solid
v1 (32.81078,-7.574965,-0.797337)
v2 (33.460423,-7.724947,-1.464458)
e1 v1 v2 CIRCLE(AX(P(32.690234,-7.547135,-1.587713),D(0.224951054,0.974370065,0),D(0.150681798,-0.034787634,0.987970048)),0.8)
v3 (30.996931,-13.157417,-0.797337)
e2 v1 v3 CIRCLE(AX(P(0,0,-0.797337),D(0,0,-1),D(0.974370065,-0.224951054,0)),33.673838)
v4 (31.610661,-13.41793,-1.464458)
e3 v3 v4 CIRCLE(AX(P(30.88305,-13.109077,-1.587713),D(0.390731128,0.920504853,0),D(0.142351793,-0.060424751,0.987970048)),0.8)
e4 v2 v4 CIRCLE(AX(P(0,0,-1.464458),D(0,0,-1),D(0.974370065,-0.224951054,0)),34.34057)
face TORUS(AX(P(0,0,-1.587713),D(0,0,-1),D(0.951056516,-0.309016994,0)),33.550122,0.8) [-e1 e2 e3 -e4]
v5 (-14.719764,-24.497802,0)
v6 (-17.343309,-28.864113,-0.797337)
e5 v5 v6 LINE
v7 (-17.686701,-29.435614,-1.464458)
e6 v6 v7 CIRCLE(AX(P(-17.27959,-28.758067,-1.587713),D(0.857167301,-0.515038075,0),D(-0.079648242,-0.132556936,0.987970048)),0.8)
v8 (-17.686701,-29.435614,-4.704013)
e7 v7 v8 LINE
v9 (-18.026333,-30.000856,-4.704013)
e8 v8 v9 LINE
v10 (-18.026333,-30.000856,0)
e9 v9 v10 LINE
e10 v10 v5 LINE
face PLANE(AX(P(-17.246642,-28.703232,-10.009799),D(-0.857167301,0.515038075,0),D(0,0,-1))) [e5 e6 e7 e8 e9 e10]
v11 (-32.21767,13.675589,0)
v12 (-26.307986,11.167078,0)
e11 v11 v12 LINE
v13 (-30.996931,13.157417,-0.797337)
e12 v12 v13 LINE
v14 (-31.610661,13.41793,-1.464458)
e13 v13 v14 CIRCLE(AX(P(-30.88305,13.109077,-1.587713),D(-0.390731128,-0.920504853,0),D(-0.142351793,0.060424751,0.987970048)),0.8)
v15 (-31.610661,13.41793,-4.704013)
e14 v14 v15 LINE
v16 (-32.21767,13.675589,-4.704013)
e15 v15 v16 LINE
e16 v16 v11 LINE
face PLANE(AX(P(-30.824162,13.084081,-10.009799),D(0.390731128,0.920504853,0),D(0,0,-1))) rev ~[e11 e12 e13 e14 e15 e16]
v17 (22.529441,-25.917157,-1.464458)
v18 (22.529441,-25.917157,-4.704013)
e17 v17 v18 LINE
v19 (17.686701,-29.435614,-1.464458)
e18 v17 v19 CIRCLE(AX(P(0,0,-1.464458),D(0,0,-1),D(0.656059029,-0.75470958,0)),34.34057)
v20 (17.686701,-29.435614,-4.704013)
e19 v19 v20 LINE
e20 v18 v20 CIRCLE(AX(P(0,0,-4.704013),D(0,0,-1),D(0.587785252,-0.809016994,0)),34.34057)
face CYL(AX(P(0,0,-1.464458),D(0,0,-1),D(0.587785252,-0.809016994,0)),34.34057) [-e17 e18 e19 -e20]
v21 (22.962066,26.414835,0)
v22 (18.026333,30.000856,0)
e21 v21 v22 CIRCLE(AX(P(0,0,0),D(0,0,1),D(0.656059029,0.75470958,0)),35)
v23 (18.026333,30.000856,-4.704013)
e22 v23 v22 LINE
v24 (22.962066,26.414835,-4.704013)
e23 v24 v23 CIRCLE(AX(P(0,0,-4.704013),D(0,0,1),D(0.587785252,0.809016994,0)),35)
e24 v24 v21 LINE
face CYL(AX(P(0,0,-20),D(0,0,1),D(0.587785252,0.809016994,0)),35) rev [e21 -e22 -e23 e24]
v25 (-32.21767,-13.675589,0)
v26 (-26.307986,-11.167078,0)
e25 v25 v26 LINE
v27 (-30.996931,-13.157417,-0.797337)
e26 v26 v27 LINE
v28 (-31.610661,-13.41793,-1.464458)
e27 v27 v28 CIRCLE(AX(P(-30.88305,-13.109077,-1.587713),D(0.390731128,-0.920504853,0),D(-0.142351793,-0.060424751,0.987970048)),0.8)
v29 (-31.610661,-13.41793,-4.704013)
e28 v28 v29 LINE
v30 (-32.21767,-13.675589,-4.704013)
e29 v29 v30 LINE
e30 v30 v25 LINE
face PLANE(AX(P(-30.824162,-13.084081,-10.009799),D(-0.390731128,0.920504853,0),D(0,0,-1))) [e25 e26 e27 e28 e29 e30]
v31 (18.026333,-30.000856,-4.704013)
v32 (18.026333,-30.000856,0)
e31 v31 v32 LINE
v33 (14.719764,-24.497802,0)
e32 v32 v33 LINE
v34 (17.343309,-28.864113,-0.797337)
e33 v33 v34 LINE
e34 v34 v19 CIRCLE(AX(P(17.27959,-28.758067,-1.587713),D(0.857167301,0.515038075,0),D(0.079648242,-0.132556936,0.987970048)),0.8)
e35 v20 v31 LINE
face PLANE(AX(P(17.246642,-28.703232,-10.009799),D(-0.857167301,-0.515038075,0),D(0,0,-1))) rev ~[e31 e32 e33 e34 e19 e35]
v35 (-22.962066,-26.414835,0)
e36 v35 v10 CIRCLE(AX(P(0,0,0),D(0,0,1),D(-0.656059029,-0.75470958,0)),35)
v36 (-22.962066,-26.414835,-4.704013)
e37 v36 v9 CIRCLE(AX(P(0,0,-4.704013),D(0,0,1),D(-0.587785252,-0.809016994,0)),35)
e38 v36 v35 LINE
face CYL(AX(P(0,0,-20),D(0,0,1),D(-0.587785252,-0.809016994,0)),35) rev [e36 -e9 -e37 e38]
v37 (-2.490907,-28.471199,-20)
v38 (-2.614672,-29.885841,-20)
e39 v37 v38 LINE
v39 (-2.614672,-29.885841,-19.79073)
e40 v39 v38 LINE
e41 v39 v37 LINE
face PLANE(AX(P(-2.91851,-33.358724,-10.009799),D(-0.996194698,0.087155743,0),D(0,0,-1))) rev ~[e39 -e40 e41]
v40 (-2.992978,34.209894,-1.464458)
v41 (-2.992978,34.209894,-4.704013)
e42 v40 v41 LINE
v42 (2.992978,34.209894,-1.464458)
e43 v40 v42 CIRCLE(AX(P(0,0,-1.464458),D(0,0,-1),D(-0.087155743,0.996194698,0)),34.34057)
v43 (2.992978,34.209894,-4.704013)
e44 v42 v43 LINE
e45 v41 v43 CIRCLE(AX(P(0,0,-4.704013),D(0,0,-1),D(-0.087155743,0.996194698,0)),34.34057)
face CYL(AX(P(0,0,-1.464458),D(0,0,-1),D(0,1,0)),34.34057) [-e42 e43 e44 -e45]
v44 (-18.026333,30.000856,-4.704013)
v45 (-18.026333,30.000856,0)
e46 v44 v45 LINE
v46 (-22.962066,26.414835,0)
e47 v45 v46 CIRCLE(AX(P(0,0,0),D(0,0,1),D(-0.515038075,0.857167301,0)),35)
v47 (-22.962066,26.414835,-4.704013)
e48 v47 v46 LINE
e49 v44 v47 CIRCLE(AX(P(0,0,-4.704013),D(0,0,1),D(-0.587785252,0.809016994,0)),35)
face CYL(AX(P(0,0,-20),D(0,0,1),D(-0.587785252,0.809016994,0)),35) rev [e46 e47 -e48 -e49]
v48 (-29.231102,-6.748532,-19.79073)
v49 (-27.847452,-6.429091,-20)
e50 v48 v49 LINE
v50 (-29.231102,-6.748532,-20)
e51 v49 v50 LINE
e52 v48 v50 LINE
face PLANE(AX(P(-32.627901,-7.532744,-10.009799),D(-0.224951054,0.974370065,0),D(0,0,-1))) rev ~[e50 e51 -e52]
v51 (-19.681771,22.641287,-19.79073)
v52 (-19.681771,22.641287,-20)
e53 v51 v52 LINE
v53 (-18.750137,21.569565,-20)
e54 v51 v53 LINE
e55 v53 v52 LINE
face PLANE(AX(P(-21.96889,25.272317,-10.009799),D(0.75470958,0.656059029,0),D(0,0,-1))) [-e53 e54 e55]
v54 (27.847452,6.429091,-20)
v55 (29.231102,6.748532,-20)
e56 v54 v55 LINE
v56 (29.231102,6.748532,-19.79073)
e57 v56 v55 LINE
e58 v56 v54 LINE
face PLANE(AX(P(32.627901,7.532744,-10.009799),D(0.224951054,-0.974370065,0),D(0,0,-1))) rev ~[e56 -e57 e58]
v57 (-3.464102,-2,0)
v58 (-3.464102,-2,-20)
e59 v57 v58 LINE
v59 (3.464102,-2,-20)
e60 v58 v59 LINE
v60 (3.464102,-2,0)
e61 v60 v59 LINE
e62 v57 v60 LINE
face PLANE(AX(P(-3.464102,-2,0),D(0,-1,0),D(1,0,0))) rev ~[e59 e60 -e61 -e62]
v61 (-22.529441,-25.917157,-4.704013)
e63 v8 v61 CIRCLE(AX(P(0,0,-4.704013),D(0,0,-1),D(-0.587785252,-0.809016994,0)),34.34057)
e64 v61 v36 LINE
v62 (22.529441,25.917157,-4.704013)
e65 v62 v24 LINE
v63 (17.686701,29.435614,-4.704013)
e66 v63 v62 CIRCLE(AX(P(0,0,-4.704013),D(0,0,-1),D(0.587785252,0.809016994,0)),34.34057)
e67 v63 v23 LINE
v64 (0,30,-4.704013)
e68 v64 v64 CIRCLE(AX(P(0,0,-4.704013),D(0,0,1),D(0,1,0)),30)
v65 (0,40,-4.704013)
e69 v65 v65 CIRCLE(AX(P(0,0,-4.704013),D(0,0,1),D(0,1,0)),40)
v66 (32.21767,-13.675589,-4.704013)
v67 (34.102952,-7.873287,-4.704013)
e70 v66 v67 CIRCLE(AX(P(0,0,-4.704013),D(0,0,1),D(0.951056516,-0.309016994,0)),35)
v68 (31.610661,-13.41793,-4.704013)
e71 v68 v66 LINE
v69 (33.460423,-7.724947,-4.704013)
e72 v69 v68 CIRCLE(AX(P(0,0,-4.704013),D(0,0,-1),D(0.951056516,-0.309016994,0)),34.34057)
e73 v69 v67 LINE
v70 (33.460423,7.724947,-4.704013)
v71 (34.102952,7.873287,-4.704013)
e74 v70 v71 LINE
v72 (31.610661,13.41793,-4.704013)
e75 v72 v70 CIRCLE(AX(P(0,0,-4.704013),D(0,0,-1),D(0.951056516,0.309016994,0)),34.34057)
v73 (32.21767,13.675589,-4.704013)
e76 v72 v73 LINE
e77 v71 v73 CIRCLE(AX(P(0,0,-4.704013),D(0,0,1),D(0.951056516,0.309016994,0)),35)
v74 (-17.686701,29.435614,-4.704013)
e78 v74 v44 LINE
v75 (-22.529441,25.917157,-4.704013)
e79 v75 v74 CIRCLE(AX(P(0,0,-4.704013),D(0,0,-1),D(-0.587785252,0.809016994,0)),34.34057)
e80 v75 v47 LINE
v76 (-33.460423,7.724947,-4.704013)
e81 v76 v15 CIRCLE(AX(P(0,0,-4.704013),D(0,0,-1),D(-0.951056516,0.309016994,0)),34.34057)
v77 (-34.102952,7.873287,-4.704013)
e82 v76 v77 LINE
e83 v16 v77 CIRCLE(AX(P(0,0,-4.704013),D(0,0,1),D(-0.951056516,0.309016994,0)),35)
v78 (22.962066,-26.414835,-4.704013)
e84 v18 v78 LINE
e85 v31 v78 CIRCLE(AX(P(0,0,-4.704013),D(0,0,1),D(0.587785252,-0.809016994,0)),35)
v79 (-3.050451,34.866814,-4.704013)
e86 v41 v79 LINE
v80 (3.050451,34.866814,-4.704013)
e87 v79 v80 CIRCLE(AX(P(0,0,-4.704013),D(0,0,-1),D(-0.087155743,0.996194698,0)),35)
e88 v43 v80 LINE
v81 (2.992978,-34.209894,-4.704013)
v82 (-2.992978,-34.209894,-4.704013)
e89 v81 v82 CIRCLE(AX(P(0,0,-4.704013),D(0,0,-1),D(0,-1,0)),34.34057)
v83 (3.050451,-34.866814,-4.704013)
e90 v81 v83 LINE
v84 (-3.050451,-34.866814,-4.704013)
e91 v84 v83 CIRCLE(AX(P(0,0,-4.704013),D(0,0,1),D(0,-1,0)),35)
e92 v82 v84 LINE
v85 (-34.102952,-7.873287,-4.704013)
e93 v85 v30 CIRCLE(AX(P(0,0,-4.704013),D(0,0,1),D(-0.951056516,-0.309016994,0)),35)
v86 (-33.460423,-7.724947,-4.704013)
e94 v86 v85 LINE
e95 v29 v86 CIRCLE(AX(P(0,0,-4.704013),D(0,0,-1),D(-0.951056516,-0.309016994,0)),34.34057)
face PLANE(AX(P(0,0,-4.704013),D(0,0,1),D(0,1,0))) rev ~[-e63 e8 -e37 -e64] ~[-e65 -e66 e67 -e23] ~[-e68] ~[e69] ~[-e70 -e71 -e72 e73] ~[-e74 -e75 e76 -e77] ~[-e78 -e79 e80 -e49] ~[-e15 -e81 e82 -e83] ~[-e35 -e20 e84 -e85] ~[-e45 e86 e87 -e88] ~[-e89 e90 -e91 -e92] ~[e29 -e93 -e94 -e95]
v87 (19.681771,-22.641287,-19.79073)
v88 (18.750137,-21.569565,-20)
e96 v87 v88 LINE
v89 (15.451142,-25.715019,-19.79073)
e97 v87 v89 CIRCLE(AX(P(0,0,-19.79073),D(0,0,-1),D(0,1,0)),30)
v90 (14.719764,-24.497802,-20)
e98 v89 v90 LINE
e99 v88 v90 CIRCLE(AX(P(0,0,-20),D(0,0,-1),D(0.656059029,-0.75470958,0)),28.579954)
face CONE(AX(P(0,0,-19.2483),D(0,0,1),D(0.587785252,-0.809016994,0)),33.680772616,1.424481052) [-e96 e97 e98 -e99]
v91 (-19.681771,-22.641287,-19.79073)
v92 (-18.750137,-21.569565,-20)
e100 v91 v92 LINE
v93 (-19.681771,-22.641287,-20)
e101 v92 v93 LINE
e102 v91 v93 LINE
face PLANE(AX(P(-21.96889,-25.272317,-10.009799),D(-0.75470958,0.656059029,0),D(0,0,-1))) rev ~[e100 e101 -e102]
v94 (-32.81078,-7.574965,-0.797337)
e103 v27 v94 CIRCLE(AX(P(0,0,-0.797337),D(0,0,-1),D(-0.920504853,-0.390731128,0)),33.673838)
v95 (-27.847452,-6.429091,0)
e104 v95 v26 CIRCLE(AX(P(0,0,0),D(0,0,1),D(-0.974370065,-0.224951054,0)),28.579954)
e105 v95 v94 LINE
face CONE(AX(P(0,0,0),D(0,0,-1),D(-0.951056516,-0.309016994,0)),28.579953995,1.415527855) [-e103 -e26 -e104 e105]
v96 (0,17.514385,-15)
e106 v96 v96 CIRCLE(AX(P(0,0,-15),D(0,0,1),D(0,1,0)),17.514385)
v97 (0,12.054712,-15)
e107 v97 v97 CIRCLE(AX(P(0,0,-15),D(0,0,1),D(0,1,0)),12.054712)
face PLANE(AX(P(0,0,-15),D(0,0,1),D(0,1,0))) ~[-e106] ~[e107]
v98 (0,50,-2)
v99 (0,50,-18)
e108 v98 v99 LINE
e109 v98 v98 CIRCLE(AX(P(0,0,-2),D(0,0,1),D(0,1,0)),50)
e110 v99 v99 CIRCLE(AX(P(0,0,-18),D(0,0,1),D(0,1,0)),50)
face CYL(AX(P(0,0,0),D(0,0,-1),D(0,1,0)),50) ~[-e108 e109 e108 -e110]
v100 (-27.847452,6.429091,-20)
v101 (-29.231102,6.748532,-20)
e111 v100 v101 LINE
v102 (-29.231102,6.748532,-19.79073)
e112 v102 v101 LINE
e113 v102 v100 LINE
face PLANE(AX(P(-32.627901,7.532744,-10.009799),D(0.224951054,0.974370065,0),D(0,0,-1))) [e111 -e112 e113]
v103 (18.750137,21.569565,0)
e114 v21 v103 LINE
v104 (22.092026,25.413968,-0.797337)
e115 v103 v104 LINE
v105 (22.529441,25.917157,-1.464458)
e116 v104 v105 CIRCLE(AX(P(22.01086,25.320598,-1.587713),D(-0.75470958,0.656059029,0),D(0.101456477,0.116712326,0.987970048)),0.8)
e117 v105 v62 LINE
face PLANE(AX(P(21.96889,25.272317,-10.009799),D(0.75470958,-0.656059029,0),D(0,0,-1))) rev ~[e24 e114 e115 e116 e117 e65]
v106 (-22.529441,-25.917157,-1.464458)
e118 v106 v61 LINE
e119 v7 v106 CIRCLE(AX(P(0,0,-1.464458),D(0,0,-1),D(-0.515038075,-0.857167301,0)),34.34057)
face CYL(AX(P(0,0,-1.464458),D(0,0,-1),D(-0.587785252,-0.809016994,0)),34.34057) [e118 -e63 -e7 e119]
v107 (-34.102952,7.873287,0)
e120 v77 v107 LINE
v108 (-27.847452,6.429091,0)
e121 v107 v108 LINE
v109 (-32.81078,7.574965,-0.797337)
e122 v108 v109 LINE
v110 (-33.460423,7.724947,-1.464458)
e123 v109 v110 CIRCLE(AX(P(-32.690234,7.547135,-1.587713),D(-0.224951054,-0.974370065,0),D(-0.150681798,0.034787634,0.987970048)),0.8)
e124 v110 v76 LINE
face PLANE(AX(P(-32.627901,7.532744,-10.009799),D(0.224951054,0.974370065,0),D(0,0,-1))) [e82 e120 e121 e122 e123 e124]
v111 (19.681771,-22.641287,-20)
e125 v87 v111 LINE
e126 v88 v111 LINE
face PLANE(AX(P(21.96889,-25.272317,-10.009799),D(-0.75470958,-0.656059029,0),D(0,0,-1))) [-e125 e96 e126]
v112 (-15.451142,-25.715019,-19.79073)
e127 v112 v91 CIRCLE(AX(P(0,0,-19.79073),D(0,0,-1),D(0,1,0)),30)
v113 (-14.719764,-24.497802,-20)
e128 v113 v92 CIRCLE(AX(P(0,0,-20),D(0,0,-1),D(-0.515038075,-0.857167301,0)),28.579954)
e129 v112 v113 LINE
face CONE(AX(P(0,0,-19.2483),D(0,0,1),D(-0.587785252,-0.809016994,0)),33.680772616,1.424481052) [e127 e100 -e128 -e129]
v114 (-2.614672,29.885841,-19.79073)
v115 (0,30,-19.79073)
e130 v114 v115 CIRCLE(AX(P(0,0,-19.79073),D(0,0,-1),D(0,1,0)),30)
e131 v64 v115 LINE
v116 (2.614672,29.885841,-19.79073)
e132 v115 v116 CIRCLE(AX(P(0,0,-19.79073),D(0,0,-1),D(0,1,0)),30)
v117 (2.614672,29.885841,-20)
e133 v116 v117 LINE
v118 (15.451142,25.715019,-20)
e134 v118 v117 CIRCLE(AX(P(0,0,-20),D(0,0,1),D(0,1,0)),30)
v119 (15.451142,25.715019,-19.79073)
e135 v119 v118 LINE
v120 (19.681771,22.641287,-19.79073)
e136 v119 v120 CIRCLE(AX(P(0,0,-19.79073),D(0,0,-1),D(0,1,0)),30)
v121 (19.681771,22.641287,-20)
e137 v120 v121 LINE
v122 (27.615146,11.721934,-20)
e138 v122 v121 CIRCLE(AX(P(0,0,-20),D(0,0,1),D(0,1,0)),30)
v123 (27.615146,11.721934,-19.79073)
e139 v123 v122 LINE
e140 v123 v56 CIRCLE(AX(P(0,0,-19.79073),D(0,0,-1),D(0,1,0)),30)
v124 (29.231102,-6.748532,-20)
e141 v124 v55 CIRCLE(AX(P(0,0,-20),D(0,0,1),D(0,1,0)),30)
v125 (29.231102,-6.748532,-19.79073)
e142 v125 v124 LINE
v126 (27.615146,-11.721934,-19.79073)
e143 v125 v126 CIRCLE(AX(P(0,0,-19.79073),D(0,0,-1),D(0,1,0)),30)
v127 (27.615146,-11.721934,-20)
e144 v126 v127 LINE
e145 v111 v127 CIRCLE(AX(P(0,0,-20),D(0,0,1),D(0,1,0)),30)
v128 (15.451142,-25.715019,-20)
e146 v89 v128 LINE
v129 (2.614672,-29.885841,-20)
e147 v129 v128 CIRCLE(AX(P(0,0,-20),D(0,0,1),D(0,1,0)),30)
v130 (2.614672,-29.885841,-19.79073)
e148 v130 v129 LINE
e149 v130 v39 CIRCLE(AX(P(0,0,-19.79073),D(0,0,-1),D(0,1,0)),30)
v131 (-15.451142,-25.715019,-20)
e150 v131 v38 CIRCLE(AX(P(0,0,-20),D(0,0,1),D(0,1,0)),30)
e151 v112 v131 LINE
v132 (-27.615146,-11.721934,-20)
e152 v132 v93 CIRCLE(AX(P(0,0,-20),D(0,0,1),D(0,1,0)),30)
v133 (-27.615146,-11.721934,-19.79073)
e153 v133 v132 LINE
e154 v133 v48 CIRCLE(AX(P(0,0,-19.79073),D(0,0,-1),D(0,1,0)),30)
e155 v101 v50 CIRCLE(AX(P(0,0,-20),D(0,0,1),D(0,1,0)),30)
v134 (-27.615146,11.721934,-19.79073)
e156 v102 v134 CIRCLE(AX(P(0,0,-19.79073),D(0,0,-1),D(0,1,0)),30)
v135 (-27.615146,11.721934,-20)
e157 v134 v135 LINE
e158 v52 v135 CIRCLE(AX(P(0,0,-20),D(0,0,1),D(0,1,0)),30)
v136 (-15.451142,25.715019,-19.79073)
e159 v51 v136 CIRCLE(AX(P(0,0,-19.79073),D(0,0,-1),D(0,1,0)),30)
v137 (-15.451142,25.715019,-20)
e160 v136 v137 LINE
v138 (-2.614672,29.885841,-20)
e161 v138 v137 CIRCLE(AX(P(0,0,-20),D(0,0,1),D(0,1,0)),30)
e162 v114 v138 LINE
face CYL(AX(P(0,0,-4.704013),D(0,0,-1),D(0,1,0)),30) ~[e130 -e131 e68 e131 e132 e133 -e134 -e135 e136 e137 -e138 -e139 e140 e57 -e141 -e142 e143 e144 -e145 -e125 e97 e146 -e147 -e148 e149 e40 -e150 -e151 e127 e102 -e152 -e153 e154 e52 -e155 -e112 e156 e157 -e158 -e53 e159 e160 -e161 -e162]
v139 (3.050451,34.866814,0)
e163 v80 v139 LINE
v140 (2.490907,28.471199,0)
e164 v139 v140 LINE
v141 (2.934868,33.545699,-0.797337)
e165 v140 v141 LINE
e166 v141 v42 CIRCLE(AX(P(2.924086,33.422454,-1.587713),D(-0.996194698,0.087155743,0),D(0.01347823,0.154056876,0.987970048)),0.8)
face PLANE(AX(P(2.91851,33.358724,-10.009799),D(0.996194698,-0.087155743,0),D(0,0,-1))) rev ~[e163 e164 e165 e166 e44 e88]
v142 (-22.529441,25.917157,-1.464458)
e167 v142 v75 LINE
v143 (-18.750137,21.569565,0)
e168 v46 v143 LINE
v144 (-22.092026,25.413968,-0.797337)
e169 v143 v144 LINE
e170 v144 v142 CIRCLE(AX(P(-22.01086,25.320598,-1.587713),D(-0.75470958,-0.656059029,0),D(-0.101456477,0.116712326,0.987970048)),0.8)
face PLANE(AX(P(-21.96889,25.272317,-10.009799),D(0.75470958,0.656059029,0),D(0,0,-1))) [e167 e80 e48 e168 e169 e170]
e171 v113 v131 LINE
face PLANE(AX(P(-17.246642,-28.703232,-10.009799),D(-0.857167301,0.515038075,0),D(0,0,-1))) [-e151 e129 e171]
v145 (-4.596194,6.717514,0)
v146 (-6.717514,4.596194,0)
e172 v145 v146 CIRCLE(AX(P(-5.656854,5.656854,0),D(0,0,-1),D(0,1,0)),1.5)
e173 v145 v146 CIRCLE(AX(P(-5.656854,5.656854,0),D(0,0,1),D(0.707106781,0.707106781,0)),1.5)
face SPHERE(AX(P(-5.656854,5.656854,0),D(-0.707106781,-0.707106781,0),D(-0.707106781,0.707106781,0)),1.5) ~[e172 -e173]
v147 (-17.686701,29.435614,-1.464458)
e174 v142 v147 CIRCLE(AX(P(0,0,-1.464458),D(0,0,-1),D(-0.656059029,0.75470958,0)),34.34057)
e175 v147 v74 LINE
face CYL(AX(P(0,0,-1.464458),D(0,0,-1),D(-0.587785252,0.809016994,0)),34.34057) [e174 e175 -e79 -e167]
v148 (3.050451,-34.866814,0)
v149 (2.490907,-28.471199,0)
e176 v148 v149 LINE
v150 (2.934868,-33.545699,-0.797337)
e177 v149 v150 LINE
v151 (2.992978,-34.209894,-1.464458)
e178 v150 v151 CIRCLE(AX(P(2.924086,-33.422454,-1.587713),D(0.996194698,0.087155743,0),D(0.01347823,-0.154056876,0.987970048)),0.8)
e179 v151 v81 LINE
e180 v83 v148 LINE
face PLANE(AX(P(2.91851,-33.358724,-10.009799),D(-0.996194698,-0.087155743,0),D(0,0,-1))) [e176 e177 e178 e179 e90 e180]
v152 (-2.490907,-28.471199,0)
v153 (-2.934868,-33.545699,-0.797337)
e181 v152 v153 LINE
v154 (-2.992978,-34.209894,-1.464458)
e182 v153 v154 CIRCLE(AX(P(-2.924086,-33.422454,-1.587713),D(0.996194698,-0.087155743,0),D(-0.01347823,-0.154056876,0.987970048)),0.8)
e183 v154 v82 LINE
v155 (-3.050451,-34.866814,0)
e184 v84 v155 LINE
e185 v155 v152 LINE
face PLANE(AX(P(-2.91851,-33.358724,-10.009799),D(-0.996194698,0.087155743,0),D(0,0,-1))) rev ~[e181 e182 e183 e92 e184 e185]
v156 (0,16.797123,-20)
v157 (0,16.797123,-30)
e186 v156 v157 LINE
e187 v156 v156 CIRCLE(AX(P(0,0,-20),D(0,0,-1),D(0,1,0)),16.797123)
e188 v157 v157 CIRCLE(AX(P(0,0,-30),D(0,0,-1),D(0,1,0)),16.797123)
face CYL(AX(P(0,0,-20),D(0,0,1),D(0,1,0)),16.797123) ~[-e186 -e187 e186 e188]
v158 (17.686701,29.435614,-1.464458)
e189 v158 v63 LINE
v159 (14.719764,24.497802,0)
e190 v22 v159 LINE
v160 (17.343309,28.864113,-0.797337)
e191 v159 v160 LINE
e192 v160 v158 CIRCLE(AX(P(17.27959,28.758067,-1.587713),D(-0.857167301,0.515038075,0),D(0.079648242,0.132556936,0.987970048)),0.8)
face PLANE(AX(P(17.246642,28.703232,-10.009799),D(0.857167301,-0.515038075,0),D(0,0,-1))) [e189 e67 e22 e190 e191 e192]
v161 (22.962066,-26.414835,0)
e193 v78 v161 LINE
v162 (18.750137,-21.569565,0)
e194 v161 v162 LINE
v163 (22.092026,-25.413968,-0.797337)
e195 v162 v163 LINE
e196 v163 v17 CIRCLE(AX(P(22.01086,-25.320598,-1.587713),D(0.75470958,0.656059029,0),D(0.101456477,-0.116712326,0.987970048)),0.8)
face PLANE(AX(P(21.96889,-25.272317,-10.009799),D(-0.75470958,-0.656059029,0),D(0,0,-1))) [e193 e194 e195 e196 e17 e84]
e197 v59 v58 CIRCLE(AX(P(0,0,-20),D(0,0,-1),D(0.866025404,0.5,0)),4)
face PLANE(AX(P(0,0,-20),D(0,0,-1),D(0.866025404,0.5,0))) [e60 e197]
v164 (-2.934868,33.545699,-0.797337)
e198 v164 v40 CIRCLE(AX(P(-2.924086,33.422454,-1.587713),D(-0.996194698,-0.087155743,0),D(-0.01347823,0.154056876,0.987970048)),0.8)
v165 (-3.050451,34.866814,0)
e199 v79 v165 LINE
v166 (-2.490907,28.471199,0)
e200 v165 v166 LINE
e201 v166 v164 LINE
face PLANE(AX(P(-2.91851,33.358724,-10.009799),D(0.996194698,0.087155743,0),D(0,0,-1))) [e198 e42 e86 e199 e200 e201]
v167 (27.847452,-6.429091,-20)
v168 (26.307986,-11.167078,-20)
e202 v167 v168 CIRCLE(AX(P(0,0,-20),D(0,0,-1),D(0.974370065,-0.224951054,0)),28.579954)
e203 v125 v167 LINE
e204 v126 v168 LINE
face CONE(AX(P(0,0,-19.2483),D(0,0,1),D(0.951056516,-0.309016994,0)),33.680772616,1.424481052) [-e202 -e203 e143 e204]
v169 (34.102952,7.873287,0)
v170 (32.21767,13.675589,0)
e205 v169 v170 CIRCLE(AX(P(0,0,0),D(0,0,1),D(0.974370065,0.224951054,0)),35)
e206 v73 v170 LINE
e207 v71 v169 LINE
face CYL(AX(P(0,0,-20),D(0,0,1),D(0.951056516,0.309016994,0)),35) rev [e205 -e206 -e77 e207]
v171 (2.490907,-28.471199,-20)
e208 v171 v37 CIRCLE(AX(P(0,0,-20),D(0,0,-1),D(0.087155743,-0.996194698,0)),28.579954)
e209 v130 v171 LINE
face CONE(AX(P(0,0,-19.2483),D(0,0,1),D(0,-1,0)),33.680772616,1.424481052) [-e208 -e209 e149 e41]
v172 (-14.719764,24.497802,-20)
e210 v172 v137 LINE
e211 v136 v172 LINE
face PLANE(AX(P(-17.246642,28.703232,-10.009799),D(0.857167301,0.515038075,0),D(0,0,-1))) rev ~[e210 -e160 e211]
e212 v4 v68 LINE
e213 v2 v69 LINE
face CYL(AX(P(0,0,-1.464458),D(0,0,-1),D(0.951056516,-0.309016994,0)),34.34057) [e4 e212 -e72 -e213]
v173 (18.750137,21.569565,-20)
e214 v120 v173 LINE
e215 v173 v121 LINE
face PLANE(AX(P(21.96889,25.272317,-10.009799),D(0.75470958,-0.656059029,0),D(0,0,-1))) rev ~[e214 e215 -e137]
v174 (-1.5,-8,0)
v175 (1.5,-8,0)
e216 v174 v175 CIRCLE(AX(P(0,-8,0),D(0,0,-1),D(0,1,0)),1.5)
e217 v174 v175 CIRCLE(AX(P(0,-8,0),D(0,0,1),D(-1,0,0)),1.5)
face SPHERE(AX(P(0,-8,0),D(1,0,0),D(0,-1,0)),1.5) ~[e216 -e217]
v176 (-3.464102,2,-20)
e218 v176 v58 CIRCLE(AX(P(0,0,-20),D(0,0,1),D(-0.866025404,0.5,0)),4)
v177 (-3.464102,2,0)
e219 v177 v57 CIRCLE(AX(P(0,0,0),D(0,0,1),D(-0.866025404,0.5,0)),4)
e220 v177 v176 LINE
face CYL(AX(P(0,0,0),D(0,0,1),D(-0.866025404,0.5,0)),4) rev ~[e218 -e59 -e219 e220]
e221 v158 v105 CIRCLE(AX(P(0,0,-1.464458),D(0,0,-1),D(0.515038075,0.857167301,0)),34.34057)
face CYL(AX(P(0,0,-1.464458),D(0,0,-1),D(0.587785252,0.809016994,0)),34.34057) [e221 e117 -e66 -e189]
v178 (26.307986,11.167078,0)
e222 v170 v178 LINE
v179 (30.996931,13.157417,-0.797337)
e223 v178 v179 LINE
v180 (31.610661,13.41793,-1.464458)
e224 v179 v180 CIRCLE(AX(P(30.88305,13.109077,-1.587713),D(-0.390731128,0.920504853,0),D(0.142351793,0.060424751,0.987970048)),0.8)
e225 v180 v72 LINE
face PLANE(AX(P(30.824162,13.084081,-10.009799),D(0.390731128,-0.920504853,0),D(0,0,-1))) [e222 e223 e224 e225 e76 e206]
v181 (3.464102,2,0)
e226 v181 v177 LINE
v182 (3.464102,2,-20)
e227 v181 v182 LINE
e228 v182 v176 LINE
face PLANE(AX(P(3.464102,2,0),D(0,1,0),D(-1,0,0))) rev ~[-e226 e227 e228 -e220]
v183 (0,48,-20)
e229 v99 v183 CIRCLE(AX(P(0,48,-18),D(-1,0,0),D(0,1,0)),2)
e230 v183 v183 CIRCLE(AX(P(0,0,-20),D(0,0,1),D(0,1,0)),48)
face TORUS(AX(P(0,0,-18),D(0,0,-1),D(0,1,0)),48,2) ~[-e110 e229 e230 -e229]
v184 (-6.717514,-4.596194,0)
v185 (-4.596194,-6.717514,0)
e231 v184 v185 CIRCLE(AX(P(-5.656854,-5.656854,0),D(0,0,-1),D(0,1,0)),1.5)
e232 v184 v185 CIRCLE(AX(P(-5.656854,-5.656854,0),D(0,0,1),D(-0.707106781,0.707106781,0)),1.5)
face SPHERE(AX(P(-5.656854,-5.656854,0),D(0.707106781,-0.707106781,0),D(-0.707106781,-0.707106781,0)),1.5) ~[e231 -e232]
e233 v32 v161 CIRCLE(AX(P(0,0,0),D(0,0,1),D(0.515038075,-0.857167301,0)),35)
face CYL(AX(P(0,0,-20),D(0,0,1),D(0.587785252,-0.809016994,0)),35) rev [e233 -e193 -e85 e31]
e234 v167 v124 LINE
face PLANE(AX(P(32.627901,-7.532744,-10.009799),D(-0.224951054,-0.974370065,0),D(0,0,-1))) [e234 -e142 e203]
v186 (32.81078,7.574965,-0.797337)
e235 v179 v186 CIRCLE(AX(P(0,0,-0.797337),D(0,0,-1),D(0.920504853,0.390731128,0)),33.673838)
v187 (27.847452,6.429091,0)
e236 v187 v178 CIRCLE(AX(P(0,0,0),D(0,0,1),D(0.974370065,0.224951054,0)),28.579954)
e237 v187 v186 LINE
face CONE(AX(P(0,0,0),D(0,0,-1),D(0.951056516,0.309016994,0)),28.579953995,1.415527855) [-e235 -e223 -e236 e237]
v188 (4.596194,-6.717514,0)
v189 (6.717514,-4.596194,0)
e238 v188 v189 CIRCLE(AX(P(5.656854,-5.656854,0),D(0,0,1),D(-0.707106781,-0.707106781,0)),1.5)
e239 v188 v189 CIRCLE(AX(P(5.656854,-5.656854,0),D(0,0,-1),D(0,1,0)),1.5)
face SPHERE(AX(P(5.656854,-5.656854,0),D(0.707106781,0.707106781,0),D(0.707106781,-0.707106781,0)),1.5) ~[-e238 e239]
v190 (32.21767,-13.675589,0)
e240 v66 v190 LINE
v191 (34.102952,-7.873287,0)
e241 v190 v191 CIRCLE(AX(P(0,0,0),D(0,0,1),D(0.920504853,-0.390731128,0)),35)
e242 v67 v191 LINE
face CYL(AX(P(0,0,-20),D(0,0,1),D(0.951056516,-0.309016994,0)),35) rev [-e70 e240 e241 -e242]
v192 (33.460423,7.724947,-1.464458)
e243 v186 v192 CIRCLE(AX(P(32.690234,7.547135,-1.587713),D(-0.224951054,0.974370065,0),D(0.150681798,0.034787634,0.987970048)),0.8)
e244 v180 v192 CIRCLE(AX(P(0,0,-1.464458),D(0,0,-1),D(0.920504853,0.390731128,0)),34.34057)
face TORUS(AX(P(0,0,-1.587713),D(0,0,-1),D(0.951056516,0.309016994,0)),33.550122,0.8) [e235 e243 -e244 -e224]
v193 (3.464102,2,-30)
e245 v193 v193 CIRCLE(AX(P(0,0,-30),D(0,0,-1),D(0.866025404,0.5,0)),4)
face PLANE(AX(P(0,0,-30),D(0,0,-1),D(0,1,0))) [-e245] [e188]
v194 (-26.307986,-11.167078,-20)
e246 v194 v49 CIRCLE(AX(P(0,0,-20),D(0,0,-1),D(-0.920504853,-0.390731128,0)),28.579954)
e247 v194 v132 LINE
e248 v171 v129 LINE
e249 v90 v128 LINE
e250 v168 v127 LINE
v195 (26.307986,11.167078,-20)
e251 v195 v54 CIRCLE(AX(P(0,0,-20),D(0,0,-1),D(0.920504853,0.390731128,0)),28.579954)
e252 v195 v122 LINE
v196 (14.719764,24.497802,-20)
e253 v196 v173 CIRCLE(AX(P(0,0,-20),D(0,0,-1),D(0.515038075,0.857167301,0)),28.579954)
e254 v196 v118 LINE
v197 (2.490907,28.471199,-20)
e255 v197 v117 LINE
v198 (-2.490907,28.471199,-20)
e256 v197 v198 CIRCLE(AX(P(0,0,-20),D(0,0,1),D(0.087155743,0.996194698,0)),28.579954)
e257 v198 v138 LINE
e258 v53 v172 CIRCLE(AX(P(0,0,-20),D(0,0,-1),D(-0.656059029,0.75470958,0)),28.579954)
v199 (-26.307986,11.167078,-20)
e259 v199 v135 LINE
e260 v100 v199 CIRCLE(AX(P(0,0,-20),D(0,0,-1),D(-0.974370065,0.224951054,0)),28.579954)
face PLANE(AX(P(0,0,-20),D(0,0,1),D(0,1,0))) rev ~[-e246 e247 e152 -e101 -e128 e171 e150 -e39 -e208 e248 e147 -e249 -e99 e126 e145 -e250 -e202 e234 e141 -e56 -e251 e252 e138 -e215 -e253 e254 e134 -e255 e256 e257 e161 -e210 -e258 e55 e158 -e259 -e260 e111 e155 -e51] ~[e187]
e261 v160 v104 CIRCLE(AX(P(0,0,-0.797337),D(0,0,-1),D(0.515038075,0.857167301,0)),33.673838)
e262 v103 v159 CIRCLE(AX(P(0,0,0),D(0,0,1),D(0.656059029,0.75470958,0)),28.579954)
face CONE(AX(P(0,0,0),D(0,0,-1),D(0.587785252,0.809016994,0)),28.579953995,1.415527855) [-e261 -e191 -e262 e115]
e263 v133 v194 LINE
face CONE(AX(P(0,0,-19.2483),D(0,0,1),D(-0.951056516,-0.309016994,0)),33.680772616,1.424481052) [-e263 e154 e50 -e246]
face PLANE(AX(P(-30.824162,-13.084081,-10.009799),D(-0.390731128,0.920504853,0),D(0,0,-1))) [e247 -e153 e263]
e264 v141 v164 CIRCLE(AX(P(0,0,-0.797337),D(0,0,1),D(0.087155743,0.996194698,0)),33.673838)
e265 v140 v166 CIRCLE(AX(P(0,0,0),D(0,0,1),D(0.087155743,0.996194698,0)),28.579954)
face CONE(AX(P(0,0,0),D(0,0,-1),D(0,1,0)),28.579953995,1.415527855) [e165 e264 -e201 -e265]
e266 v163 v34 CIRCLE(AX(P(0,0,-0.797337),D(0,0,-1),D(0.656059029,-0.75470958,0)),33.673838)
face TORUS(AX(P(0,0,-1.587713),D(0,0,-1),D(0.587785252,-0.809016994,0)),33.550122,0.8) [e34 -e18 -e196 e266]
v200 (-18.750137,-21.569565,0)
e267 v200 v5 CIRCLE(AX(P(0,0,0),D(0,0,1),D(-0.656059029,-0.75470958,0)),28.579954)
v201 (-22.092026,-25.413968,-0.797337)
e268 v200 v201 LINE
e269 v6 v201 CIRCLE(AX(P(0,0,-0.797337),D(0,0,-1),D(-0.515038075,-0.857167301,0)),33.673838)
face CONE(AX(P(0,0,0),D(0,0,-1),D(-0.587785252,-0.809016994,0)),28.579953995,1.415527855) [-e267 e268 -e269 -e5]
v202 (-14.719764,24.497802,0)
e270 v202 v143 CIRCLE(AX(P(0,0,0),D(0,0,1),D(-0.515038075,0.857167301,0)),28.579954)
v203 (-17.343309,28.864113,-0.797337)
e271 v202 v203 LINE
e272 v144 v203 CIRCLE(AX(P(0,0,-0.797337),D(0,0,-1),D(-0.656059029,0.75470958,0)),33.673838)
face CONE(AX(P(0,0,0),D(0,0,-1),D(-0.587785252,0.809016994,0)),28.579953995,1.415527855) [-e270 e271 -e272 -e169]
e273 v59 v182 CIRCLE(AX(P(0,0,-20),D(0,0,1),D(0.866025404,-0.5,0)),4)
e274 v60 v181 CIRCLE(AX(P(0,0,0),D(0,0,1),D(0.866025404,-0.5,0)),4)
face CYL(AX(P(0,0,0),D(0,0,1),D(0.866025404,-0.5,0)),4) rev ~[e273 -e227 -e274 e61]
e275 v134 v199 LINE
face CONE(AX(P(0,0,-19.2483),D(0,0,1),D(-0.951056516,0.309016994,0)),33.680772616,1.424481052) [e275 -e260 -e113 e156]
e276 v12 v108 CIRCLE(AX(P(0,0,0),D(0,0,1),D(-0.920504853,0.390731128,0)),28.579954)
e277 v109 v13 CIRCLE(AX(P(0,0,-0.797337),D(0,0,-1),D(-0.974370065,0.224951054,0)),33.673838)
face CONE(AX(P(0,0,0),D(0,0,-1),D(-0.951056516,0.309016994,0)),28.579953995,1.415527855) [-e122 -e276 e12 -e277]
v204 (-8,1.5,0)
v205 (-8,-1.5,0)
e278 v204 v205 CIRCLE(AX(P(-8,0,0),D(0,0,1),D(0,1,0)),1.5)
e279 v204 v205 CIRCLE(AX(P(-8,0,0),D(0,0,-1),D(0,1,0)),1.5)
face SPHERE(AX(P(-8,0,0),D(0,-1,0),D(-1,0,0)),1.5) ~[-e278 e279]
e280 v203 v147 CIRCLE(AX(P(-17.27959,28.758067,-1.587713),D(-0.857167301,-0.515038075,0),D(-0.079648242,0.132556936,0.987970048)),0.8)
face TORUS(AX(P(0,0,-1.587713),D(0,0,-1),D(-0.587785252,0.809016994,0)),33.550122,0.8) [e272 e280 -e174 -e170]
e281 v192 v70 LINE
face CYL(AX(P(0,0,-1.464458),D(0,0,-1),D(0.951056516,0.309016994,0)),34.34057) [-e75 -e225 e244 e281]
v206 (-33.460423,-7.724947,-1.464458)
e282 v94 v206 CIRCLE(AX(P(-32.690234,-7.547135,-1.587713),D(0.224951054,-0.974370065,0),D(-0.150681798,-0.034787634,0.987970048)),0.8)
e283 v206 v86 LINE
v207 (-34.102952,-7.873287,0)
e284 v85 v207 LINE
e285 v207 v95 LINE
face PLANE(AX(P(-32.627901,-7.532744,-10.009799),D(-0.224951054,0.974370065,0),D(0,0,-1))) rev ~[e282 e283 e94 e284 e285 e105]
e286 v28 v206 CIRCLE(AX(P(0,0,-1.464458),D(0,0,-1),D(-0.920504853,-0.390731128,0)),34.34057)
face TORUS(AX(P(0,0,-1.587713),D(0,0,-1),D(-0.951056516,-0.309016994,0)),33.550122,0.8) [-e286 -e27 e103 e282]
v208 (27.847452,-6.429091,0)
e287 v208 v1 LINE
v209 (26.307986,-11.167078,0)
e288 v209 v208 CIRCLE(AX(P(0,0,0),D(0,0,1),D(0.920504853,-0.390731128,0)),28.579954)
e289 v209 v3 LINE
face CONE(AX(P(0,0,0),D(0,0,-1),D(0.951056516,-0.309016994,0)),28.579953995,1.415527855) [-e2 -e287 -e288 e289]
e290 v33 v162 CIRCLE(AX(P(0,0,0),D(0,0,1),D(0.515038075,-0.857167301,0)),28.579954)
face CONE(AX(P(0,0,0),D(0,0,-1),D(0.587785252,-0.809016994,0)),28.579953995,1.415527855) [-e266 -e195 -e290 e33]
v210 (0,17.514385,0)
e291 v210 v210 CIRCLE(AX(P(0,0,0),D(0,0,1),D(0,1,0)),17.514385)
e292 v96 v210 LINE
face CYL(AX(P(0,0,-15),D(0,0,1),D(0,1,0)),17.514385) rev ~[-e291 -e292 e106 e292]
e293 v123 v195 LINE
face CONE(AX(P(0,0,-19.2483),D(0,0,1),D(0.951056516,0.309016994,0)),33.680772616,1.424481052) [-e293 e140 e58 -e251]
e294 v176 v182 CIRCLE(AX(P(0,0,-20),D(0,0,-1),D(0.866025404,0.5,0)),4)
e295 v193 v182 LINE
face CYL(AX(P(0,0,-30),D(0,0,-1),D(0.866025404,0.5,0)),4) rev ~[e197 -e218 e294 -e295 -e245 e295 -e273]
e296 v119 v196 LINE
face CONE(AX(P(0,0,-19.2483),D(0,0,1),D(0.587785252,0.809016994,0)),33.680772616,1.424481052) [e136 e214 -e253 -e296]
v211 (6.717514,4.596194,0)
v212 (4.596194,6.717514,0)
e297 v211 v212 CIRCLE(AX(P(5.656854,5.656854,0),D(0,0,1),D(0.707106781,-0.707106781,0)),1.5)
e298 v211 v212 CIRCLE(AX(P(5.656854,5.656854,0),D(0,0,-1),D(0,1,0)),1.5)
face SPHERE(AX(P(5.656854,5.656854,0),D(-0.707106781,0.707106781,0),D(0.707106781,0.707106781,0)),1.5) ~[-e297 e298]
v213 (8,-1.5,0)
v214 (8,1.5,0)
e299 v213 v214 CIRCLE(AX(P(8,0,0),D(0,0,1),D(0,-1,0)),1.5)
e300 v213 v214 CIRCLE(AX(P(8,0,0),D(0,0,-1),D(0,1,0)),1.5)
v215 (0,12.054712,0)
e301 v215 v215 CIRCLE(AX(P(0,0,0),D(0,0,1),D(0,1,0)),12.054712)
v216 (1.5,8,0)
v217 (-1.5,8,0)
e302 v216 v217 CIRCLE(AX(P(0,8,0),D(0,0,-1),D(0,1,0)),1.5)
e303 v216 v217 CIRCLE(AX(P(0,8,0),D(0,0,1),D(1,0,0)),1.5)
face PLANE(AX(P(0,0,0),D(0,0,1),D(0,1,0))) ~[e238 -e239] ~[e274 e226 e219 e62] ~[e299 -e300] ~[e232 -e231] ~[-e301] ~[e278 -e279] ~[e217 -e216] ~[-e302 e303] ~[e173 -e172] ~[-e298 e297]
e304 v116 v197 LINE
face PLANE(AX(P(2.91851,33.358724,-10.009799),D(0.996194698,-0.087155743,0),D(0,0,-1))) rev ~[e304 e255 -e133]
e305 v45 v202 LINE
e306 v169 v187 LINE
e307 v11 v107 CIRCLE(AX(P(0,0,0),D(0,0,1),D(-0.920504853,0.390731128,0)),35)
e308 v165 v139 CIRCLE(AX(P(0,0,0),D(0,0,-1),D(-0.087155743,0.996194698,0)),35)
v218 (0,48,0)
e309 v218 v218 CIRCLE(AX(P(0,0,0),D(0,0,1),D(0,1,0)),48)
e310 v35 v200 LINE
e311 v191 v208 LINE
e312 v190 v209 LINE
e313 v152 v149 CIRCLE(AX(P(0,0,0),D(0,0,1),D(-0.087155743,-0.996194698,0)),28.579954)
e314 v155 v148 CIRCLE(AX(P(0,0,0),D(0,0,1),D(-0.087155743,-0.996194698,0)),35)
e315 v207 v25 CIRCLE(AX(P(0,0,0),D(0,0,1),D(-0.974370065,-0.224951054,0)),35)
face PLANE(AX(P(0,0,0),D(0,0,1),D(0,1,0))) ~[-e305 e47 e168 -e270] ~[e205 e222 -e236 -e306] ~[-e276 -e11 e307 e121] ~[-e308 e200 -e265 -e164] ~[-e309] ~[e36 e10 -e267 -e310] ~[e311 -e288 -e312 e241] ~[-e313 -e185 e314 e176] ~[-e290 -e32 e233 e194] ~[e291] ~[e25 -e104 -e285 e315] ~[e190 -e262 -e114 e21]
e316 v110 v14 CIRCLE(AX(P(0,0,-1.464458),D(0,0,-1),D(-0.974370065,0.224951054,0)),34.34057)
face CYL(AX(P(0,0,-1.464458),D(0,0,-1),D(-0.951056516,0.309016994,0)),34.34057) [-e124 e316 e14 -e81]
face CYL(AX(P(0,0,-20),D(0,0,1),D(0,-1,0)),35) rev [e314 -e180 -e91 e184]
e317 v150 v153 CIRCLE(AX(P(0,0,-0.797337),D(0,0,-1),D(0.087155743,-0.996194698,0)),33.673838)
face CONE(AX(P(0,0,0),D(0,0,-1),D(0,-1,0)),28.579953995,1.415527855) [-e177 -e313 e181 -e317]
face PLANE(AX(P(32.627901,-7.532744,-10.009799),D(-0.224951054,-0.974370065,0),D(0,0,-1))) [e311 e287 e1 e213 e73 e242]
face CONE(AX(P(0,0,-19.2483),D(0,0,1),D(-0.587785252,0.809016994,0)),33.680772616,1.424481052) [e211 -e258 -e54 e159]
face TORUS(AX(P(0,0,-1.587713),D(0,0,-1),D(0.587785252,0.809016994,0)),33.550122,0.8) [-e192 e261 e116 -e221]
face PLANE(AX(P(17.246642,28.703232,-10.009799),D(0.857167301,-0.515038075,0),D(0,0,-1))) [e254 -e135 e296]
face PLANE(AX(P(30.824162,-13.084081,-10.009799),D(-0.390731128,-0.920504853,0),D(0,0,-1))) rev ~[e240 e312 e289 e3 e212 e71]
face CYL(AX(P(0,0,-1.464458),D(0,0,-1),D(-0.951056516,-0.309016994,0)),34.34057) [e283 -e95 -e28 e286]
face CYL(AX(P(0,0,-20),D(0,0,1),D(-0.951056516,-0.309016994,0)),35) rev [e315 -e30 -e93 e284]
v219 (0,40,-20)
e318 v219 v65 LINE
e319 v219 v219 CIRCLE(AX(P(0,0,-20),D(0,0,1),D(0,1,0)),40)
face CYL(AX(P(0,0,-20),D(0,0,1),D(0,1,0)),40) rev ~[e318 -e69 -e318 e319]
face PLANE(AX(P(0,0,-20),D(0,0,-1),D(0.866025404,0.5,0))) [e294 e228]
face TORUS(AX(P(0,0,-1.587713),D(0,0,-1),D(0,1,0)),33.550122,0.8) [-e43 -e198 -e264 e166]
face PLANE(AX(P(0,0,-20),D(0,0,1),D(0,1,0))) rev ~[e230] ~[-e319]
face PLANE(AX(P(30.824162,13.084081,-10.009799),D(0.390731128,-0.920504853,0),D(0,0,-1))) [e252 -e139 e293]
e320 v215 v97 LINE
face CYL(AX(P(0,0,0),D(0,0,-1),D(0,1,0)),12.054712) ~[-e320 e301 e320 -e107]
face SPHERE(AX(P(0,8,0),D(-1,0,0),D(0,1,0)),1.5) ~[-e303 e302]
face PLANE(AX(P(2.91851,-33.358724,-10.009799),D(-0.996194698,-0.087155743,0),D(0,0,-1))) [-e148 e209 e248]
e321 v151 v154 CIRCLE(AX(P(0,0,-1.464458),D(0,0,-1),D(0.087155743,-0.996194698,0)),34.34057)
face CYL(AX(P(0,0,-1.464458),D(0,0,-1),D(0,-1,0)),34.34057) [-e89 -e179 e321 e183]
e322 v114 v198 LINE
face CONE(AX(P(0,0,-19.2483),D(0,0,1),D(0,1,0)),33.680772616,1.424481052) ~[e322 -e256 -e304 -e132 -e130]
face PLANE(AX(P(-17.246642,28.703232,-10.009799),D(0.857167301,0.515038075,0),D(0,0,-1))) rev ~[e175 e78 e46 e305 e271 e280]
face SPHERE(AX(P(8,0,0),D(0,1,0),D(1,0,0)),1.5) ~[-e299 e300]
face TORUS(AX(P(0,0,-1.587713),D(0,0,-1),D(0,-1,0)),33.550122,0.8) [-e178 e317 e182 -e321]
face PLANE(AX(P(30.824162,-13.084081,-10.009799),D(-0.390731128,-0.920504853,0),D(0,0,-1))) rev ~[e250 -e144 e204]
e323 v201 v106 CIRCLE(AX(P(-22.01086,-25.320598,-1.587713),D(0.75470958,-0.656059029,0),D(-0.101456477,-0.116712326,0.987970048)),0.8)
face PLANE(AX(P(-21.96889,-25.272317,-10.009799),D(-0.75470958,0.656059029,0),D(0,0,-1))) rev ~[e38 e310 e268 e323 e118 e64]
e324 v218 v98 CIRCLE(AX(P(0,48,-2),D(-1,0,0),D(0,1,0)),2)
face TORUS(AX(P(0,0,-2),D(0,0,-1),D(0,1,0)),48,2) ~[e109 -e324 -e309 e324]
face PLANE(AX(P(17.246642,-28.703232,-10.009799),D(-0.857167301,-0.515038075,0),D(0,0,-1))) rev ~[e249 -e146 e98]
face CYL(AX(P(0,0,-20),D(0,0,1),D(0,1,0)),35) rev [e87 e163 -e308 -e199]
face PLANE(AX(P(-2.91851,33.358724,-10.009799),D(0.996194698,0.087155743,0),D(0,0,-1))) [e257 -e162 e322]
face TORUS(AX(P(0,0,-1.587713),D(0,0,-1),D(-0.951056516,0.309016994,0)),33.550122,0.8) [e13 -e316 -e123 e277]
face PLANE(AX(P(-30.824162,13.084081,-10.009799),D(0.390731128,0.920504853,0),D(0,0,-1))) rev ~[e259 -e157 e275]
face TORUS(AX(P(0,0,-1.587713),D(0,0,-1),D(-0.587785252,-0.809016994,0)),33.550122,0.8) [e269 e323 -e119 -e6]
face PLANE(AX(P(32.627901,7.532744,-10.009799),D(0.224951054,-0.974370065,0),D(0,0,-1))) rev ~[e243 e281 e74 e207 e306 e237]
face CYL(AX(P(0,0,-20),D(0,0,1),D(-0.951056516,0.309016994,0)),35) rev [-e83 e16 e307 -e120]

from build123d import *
from build123d.topology import SkipClean

# Parameters (mm, degrees)
FILLET2_R           = 2
CUT_EXTRUDE1_DEPTH  = 35
CUT_REVOLVE3_ANGLE  = 10
CIRPATTERN6_COUNT   = 10
SKETCH6_R           = 16.79712335
BOSS_EXTRUDE2_DEPTH = 10
CIRPATTERN5_COUNT   = 8
SKETCH9_R           = 4
CUT_EXTRUDE4_DEPTH  = 10


with BuildPart() as part:
    # Sketch1 → Revolve1 (revolve)
    with BuildSketch(Plane(origin=(0, 0, 0), x_dir=(0, 0, -1), z_dir=(1, 0, 0))):
        Polygon((0, 0), (0, 12.054712182), (15, 12.054712182), (15, 17.514385261), (0, 17.514385261), (0, 50), (20, 50), (20, 40), (4.704013112, 40), (4.704013112, 30), (20, 30), (20, 0), align=None)
    revolve(axis=Axis((0, 0, -20), (0, 0, 1)))

    # Fillet2
    fillet2_edges = [part.edges().sort_by_distance(p)[0] for p in [
        (0, -50, -20),
        (0, -50, 0),
    ]]
    fillet(fillet2_edges, radius=FILLET2_R)

    # Sketch3 → Cut-Extrude1 (cut)
    with BuildSketch(Plane.XY):
        with BuildLine():
            Line((-3.464101615, -2), (3.464101615, -2))
            ThreePointArc((3.464101615, -2), (4, 0), (3.464101615, 2))
            Line((3.464101615, 2), (-3.464101615, 2))
            ThreePointArc((-3.464101615, 2), (-4, 0), (-3.464101615, -2))
        make_face()
    extrude(amount=-CUT_EXTRUDE1_DEPTH, mode=Mode.SUBTRACT)

    # Sketch2 → Cut-Revolve3 (revolve, symmetric, cut)
    with BuildSketch(Plane(origin=(0, 0, 0), x_dir=(0, 0, -1), z_dir=(1, 0, 0))) as cut_revolve3_sk:
        with BuildLine():
            Line((0, 28.579953995), (0.797337411, 33.673838154))
            ThreePointArc((0.797337411, 33.673838154), (1.022193113, 34.115972341), (1.464458447, 34.34056998))
            Line((1.464458447, 34.34056998), (18.649598976, 34.34056998))
            ThreePointArc((18.649598976, 34.34056998), (19.049298294, 34.101727794), (19.248300485, 33.680772616))
            Line((19.248300485, 33.680772616), (20, 28.579953995))
            Line((20, 28.579953995), (20, 35))
            Line((20, 35), (0, 35))
            Line((0, 35), (0, 28.579953995))
        make_face()
    cut_revolve3 = revolve(axis=Axis((0, 0, 0), (0, 0, -1)), revolution_arc=CUT_REVOLVE3_ANGLE / 2, mode=Mode.SUBTRACT)
    cut_revolve3 = cut_revolve3 + revolve(cut_revolve3_sk.sketch, axis=Axis((0, 0, 0), (0, 0, 1)), revolution_arc=CUT_REVOLVE3_ANGLE / 2, mode=Mode.SUBTRACT)

    # CirPattern6: Cut-Revolve3 ×10 about axis
    cirpattern6_axis = Axis((0, 0, 0), (0, 0, 1))
    for i in range(1, CIRPATTERN6_COUNT):
        add(cut_revolve3.rotate(cirpattern6_axis, i * 360 / CIRPATTERN6_COUNT), mode=Mode.SUBTRACT)

    # Sketch6 → Boss-Extrude2 (add)
    with BuildSketch(Plane(origin=(0, 0, -20), x_dir=(-1, 0, 0), z_dir=(0, 0, -1))):
        with Locations(Location((0, 0, 0), (0, 0, 90))):
            Circle(SKETCH6_R)
    extrude(amount=BOSS_EXTRUDE2_DEPTH)

    # Sketch4 → Revolve4 (revolve)
    with BuildSketch(Plane.XY):
        with BuildLine():
            Line((-1.5, 8), (1.5, 8))
            ThreePointArc((1.5, 8), (0, 9.5), (-1.5, 8))
        make_face()
    revolve4 = revolve(axis=Axis((-1.5, 8, 0), (1, 0, 0)))

    # CirPattern5: Revolve4 ×8 about axis
    cirpattern5_axis = Axis((0, 0, 0), (0, 0, 1))
    for i in range(1, CIRPATTERN5_COUNT):
        add(revolve4.rotate(cirpattern5_axis, i * 360 / CIRPATTERN5_COUNT))

    # Sketch9 → Cut-Extrude4 (cut)
    with SkipClean():  # the faces are left unmerged after this step: merging them gives an invalid solid
        with BuildSketch(Plane(origin=(0, 0, -30), x_dir=(-1, 0, 0), z_dir=(0, 0, -1))):
            with Locations(Location((0, 0, 0), (0, 0, 150))):
                Circle(SKETCH9_R)
        extrude(amount=-CUT_EXTRUDE4_DEPTH, mode=Mode.SUBTRACT)


solid = part.part
